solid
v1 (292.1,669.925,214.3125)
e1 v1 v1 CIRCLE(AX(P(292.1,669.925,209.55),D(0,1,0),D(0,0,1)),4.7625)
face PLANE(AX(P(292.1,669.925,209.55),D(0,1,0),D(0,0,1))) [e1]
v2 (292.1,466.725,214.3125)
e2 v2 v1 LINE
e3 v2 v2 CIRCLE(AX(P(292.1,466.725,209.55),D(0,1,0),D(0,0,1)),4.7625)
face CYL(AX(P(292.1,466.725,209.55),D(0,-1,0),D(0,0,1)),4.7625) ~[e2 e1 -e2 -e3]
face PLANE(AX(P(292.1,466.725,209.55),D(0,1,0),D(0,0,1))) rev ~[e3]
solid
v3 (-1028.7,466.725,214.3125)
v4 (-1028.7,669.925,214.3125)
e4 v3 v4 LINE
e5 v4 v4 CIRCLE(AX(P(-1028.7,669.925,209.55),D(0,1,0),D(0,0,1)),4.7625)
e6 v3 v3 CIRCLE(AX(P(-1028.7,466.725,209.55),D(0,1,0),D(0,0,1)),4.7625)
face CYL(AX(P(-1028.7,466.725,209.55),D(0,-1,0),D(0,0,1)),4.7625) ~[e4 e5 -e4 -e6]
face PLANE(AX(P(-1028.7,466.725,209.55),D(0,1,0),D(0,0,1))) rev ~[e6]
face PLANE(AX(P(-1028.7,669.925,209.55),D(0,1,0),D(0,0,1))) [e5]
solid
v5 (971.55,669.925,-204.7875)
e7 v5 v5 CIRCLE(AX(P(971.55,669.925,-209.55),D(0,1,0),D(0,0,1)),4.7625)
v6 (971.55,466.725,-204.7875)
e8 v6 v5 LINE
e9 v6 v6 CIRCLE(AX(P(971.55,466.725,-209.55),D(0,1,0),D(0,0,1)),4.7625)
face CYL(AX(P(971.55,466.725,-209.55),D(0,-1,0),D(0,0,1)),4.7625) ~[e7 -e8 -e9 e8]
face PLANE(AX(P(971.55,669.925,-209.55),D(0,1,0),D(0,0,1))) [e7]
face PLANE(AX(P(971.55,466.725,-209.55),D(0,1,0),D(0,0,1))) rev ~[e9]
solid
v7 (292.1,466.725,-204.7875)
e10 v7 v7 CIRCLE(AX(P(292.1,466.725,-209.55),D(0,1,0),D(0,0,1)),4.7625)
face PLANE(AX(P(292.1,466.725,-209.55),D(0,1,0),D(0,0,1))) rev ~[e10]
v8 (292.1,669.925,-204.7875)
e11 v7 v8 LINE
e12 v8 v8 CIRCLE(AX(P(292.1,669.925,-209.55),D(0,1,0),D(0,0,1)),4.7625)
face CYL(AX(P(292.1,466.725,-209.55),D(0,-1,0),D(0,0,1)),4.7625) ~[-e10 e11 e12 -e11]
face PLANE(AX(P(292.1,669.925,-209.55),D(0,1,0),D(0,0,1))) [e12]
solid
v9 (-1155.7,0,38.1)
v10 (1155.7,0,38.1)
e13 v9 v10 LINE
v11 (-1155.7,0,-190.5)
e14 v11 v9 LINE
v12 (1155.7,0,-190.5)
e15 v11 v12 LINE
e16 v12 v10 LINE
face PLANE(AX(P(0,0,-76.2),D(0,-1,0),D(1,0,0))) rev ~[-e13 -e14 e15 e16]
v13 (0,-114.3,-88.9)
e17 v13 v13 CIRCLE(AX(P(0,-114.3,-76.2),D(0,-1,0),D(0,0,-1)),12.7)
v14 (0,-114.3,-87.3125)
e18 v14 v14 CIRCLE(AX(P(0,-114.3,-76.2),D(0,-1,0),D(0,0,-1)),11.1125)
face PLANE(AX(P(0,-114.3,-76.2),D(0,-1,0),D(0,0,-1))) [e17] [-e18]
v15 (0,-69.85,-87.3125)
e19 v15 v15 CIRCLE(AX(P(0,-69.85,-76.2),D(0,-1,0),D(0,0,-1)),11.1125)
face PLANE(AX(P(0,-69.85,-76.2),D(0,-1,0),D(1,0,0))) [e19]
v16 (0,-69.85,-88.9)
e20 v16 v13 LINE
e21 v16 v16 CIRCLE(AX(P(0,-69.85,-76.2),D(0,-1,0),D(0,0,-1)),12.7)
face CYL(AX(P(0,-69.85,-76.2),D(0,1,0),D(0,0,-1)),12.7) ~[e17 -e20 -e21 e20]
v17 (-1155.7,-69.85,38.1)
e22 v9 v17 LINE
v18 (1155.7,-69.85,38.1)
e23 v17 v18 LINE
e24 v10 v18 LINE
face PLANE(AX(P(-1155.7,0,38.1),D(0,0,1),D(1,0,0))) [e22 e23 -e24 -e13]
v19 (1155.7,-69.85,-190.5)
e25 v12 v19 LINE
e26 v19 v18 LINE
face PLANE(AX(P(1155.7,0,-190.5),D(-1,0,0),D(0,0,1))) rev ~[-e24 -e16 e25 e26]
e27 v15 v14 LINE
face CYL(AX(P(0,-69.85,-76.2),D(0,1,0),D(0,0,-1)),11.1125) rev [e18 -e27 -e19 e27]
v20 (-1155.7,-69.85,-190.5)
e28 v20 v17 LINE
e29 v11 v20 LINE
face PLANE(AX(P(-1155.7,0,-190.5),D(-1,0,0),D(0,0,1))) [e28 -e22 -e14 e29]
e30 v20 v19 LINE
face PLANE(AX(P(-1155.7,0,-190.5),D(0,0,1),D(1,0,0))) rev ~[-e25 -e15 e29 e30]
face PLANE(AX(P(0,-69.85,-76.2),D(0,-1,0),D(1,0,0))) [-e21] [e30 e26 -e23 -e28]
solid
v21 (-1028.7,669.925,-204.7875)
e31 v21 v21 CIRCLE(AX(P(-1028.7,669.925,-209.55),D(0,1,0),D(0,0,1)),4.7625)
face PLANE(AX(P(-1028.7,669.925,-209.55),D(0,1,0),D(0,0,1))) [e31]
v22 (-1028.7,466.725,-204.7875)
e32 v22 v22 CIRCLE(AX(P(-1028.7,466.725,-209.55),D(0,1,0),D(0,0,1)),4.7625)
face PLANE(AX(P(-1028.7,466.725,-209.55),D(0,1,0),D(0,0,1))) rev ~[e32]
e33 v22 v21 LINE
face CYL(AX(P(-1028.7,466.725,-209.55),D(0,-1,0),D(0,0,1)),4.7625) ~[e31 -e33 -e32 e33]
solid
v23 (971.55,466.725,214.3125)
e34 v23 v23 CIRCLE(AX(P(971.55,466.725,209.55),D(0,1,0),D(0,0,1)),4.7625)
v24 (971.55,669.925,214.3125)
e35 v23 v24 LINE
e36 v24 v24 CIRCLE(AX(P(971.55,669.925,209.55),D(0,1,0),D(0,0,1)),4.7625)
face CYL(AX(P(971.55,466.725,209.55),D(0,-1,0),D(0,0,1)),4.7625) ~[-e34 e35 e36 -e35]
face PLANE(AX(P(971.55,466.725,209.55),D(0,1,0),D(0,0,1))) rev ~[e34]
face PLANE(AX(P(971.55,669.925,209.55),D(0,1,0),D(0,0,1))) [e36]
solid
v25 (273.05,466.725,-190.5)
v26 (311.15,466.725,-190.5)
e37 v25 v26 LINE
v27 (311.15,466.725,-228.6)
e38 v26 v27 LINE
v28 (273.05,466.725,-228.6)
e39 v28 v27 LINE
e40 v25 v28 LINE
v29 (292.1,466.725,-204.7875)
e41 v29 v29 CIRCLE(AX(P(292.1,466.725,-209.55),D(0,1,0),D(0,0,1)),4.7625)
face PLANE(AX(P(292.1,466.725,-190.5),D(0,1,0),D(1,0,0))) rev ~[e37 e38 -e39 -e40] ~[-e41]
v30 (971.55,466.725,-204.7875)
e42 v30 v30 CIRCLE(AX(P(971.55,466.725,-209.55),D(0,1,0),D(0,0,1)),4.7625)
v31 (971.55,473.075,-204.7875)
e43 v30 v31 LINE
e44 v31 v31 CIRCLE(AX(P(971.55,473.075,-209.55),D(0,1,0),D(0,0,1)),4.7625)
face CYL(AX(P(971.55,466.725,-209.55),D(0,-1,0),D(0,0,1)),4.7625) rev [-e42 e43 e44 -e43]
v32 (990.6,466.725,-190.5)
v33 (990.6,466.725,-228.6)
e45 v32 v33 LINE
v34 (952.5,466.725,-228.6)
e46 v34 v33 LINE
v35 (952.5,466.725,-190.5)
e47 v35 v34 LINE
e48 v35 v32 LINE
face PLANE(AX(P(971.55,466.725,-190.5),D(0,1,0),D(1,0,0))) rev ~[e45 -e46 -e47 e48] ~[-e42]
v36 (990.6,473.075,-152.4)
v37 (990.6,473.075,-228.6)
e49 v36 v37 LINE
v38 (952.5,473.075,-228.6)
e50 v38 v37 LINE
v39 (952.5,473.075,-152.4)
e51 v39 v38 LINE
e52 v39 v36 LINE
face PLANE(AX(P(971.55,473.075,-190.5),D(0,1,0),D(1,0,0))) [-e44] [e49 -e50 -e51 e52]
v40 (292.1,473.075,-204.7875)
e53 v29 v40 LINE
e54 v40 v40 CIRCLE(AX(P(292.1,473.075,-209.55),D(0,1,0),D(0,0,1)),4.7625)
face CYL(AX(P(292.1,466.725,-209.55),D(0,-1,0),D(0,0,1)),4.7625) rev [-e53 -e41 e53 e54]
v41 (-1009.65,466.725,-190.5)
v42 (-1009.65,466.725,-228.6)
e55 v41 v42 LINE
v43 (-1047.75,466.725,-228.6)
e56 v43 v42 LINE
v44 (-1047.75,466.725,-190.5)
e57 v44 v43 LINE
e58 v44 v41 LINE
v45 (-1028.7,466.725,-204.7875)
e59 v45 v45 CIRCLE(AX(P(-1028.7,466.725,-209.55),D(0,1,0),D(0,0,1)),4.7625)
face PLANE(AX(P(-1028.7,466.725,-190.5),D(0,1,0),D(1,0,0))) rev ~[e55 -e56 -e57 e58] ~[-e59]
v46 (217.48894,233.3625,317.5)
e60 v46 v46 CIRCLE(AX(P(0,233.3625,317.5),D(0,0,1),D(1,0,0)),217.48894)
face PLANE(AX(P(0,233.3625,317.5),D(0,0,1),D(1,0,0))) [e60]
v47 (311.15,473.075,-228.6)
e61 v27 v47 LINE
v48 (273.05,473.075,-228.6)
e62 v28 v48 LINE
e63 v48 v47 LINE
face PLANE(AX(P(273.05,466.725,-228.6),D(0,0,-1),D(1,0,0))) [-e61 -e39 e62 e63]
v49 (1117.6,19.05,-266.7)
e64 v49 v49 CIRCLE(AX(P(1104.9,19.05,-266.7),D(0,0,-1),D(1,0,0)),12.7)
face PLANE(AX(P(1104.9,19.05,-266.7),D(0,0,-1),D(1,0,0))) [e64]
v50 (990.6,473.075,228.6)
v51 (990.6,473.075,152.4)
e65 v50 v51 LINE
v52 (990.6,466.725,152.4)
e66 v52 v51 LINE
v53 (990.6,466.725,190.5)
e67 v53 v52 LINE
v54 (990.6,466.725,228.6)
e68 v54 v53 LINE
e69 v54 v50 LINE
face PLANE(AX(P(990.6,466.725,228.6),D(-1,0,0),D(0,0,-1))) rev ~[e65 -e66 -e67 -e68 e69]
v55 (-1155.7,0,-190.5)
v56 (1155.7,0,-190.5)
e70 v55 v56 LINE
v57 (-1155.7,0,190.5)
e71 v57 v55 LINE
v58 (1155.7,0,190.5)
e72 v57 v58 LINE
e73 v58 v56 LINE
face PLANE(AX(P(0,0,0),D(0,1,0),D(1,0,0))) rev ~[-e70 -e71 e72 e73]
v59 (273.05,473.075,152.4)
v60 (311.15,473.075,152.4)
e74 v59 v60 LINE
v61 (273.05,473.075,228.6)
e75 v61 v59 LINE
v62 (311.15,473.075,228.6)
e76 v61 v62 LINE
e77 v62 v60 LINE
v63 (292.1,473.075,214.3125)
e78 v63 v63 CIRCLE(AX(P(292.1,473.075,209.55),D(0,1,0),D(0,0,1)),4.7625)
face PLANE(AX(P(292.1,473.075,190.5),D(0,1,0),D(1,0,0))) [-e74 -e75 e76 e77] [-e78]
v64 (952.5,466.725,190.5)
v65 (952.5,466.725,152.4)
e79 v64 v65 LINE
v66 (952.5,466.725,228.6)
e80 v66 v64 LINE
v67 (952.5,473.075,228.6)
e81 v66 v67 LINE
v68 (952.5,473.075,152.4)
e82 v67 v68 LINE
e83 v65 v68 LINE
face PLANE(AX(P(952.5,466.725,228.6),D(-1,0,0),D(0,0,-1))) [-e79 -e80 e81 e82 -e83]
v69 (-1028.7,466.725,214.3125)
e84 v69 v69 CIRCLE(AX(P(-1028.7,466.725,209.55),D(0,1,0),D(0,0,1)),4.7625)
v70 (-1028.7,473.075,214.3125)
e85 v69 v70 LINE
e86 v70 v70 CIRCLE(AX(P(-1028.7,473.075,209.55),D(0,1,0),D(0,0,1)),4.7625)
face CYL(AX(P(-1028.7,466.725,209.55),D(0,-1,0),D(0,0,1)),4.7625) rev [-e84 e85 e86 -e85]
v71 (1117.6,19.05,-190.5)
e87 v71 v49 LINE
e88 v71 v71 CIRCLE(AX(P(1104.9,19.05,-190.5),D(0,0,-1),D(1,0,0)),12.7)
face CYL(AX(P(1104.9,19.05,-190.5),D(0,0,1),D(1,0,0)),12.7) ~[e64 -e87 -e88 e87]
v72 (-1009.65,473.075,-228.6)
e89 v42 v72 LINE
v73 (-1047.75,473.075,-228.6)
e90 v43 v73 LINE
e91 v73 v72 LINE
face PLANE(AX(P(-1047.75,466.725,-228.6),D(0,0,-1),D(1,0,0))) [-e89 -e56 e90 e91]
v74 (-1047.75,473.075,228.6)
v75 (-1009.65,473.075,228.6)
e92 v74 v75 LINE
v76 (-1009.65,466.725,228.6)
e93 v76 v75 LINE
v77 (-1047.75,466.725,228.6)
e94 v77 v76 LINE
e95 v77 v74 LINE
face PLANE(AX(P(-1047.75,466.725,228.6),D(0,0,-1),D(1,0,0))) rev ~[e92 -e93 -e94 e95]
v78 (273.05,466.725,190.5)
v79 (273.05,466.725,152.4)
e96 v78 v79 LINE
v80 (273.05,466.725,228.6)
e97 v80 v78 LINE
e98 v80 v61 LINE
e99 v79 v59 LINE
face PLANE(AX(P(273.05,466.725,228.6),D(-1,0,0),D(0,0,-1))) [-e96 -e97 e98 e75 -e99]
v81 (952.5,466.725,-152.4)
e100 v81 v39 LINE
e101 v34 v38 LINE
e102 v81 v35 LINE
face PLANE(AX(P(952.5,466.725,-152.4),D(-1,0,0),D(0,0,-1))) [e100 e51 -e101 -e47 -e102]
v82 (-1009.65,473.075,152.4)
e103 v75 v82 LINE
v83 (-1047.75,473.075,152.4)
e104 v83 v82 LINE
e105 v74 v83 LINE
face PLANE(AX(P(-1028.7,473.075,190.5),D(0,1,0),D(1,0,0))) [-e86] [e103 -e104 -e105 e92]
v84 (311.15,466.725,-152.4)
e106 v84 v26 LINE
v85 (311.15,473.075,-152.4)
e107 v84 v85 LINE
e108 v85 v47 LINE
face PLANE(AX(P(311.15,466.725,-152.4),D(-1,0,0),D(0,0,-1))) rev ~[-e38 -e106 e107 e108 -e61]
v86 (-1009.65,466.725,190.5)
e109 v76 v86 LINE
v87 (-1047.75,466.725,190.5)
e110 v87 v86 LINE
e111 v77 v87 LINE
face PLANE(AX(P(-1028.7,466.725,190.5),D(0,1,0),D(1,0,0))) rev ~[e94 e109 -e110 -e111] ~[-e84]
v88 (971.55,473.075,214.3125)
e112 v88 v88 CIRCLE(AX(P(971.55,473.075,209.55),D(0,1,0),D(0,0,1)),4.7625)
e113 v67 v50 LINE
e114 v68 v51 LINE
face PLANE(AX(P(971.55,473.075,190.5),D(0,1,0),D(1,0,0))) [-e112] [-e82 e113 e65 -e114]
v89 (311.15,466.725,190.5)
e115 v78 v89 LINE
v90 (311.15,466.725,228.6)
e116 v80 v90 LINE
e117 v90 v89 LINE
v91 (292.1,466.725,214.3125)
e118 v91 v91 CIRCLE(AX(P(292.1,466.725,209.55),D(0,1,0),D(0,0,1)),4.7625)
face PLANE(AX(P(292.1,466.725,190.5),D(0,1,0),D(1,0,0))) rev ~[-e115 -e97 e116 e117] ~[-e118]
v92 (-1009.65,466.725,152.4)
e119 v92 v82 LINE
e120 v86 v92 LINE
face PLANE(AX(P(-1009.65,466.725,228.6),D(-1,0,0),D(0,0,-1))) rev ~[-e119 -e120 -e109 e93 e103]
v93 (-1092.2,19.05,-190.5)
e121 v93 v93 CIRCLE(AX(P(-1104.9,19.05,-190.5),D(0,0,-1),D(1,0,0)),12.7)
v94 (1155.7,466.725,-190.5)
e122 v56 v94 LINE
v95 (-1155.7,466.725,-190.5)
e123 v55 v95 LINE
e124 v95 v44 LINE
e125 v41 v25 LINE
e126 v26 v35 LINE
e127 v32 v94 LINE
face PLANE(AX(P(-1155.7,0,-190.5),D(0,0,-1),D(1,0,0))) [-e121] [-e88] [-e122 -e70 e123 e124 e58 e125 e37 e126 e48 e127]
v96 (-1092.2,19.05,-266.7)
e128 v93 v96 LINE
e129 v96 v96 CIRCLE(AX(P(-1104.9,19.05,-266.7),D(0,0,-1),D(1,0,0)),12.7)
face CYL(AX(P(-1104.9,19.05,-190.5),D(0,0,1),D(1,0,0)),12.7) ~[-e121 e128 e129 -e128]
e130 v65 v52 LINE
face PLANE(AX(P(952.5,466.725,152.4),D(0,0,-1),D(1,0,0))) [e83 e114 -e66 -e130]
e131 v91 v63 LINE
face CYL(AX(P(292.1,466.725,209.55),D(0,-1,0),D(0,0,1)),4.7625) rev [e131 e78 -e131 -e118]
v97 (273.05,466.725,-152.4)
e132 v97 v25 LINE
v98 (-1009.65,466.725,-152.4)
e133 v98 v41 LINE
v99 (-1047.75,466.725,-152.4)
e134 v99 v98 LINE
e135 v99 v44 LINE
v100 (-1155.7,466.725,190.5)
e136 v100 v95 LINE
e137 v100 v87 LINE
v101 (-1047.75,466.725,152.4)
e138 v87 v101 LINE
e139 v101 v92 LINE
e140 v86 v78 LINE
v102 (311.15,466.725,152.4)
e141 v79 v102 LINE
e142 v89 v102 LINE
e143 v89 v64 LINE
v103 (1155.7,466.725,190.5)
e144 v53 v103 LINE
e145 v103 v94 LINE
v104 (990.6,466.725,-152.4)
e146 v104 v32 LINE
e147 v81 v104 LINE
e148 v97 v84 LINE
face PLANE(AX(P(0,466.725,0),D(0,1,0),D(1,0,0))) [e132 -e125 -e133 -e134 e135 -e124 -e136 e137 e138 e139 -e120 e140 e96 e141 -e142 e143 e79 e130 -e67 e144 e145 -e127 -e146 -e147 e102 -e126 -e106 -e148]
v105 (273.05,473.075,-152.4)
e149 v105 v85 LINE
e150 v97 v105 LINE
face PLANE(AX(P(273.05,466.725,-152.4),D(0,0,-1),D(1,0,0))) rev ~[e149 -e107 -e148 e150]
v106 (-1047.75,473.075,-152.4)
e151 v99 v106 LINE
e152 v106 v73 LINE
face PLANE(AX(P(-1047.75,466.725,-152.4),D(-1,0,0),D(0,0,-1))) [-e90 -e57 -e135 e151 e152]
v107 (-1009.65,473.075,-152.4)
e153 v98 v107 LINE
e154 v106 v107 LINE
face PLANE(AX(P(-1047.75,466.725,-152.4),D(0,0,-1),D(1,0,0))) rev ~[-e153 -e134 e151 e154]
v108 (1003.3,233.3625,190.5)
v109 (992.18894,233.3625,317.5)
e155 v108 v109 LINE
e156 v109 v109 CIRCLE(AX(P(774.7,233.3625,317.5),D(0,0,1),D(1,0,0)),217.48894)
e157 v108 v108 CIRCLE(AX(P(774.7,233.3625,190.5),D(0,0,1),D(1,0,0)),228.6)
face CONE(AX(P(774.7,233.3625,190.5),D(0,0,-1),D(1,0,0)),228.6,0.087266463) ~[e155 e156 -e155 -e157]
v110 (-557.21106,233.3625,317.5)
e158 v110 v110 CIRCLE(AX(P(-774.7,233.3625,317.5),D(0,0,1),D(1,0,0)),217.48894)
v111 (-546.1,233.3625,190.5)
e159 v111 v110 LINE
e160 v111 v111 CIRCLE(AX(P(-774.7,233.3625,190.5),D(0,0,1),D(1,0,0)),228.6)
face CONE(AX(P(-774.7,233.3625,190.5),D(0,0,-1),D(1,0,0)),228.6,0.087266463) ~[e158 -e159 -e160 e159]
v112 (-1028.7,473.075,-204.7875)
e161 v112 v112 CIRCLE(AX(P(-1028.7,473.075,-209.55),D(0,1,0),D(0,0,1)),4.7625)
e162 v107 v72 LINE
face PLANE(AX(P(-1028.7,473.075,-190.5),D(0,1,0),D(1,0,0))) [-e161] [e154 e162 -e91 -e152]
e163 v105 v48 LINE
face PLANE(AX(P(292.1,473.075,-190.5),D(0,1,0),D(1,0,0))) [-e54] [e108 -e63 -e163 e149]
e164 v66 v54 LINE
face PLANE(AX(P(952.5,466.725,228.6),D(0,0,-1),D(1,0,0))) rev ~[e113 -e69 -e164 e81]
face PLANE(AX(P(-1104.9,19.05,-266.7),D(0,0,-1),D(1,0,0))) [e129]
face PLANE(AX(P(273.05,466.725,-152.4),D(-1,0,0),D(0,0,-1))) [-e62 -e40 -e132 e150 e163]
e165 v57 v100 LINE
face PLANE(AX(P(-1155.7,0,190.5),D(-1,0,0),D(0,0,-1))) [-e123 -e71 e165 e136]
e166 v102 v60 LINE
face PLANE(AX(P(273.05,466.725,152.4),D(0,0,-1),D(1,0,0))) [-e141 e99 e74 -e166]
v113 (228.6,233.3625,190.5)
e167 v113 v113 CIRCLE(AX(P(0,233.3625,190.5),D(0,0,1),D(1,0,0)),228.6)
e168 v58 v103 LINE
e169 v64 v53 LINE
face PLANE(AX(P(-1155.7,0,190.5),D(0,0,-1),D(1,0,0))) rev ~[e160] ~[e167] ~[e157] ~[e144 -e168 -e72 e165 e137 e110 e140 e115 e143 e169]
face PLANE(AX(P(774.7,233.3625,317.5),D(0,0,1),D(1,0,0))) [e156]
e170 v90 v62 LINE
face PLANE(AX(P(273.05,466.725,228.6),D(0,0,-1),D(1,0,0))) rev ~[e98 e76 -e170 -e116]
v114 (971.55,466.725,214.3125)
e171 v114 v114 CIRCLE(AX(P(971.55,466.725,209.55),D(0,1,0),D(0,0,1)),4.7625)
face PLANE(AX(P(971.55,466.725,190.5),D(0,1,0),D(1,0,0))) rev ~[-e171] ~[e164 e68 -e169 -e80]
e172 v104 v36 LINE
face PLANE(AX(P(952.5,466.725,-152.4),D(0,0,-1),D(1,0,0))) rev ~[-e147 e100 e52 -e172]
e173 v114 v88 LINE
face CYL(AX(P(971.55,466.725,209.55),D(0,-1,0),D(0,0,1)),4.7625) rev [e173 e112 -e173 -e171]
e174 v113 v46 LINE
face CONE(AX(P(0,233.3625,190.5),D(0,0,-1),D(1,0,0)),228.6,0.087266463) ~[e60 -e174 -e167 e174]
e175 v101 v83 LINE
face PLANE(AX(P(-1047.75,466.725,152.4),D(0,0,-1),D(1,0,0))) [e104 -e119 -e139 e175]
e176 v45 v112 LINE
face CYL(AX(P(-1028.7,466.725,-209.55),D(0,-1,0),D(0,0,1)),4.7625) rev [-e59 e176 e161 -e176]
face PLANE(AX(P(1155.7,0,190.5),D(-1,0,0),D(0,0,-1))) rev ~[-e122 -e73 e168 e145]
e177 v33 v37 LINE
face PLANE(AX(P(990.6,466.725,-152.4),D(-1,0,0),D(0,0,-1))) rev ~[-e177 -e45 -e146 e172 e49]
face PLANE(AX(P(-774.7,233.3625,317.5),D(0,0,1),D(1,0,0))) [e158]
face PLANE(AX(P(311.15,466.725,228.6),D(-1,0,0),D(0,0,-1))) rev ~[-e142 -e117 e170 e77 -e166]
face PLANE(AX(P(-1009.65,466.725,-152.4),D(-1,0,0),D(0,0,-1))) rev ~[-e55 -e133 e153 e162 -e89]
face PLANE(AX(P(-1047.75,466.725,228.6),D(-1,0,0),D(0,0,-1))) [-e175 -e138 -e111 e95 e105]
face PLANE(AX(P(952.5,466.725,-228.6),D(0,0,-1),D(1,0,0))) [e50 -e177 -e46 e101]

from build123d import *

# Parameters (mm, degrees)
SKETCH1_W                     = 2311.4
SKETCH1_H                     = 381
BOSS_EXTRUDE1_DEPTH           = 466.725
SKETCH2_R                     = 228.6
BOSS_EXTRUDE2_DEPTH           = 127
BOSS_EXTRUDE2_DRAFT           = 5
BOSS_EXTRUDE2_PROFILE_2_DEPTH = 127
BOSS_EXTRUDE2_PROFILE_2_DRAFT = 5
BOSS_EXTRUDE2_PROFILE_3_DEPTH = 127
BOSS_EXTRUDE2_PROFILE_3_DRAFT = 5
SKETCH3_W                     = 38.1
SKETCH3_H                     = 76.2
SKETCH3_R                     = 4.7625
BOSS_EXTRUDE3_DEPTH           = 6.35
SKETCH4_R                     = 4.7625
BOSS_EXTRUDE4_DEPTH           = 203.2
BOSS_EXTRUDE4_2_DEPTH         = 203.2
BOSS_EXTRUDE4_3_DEPTH         = 203.2
BOSS_EXTRUDE4_4_DEPTH         = 203.2
BOSS_EXTRUDE4_5_DEPTH         = 203.2
BOSS_EXTRUDE4_6_DEPTH         = 203.2
SKETCH5_W                     = 2311.4
SKETCH5_H                     = 228.6
BOSS_EXTRUDE5_DEPTH           = 69.85
SKETCH6_R                     = 12.7
SKETCH6_R_2                   = 11.1125
BOSS_EXTRUDE6_DEPTH           = 44.45
SKETCH7_R                     = 12.7
BOSS_EXTRUDE7_DEPTH           = 76.2


with BuildPart() as part:
    # Sketch1 → Boss-Extrude1 (new body)
    with BuildSketch(Plane(origin=(0, 0, 0), x_dir=(1, 0, 0), z_dir=(0, 1, 0))):
        Rectangle(SKETCH1_W, SKETCH1_H)
    extrude(amount=BOSS_EXTRUDE1_DEPTH)


with BuildPart() as boss_extrude2_tool:
    # Sketch2 → Boss-Extrude2 (with draft: the straight prism first)
    with BuildSketch(Plane.XY.offset(190.5)):
        with Locations((0, 233.3625)):
            Circle(SKETCH2_R)
    extrude(amount=BOSS_EXTRUDE2_DEPTH)
    # Boss-Extrude2: the draft: its side faces are tilted about the plane it starts from
    boss_extrude2_sides = [boss_extrude2_tool.faces().sort_by_distance(p)[0] for p in [
        (-228.6, 233.3625, 254),
    ]]
    draft(boss_extrude2_sides, Plane.XY.offset(190.5), BOSS_EXTRUDE2_DRAFT)


with BuildPart() as part_1:
    add(part.part)

    # Boss-Extrude2: add boss_extrude2_tool
    add(boss_extrude2_tool.part)


with BuildPart() as boss_extrude2_profile_2_tool:
    # Sketch2 → Boss-Extrude2 profile 2 (with draft: the straight prism first)
    with BuildSketch(Plane.XY.offset(190.5)):
        with Locations((774.7, 233.3625)):
            Circle(SKETCH2_R)
    extrude(amount=BOSS_EXTRUDE2_PROFILE_2_DEPTH)
    # Boss-Extrude2 profile 2: the draft: its side faces are tilted about the plane it starts from
    boss_extrude2_profile_2_sides = [boss_extrude2_profile_2_tool.faces().sort_by_distance(p)[0] for p in [
        (546.1, 233.3625, 254),
    ]]
    draft(boss_extrude2_profile_2_sides, Plane.XY.offset(190.5), BOSS_EXTRUDE2_PROFILE_2_DRAFT)


with BuildPart() as part_2:
    add(part_1.part)

    # Boss-Extrude2 profile 2: add boss_extrude2_profile_2_tool
    add(boss_extrude2_profile_2_tool.part)


with BuildPart() as boss_extrude2_profile_3_tool:
    # Sketch2 → Boss-Extrude2 profile 3 (with draft: the straight prism first)
    with BuildSketch(Plane.XY.offset(190.5)):
        with Locations((-774.7, 233.3625)):
            Circle(SKETCH2_R)
    extrude(amount=BOSS_EXTRUDE2_PROFILE_3_DEPTH)
    # Boss-Extrude2 profile 3: the draft: its side faces are tilted about the plane it starts from
    boss_extrude2_profile_3_sides = [boss_extrude2_profile_3_tool.faces().sort_by_distance(p)[0] for p in [
        (-1003.3, 233.3625, 254),
    ]]
    draft(boss_extrude2_profile_3_sides, Plane.XY.offset(190.5), BOSS_EXTRUDE2_PROFILE_3_DRAFT)


with BuildPart() as part_3:
    add(part_2.part)

    # Boss-Extrude2 profile 3: add boss_extrude2_profile_3_tool
    add(boss_extrude2_profile_3_tool.part)

    # Sketch3 → Boss-Extrude3 (add)
    # profile 1 of 6: a face of its own
    with BuildSketch(Plane(origin=(0, 466.725, 0), x_dir=(1, 0, 0), z_dir=(0, 1, 0))):
        with Locations((292.1, 190.5)):
            Rectangle(SKETCH3_W, SKETCH3_H)
        with Locations(Location((292.1, 209.55, 0), (0, 0, 270))):
            Circle(SKETCH3_R, mode=Mode.SUBTRACT)
    # profile 2 of 6: a face of its own
    with BuildSketch(Plane(origin=(0, 466.725, 0), x_dir=(1, 0, 0), z_dir=(0, 1, 0))):
        with Locations((292.1, -190.5)):
            Rectangle(SKETCH3_W, SKETCH3_H)
        with Locations(Location((292.1, -209.55, 0), (0, 0, 270))):
            Circle(SKETCH3_R, mode=Mode.SUBTRACT)
    # profile 3 of 6: a face of its own
    with BuildSketch(Plane(origin=(0, 466.725, 0), x_dir=(1, 0, 0), z_dir=(0, 1, 0))):
        with Locations((971.55, 190.5)):
            Rectangle(SKETCH3_W, SKETCH3_H)
        with Locations(Location((971.55, 209.55, 0), (0, 0, 270))):
            Circle(SKETCH3_R, mode=Mode.SUBTRACT)
    # profile 4 of 6: a face of its own
    with BuildSketch(Plane(origin=(0, 466.725, 0), x_dir=(1, 0, 0), z_dir=(0, 1, 0))):
        with Locations((971.55, -190.5)):
            Rectangle(SKETCH3_W, SKETCH3_H)
        with Locations(Location((971.55, -209.55, 0), (0, 0, 270))):
            Circle(SKETCH3_R, mode=Mode.SUBTRACT)
    # profile 5 of 6: a face of its own
    with BuildSketch(Plane(origin=(0, 466.725, 0), x_dir=(1, 0, 0), z_dir=(0, 1, 0))):
        with Locations((-1028.7, 190.5)):
            Rectangle(SKETCH3_W, SKETCH3_H)
        with Locations(Location((-1028.7, 209.55, 0), (0, 0, 270))):
            Circle(SKETCH3_R, mode=Mode.SUBTRACT)
    # profile 6 of 6: a face of its own
    with BuildSketch(Plane(origin=(0, 466.725, 0), x_dir=(1, 0, 0), z_dir=(0, 1, 0))):
        with Locations((-1028.7, -190.5)):
            Rectangle(SKETCH3_W, SKETCH3_H)
        with Locations(Location((-1028.7, -209.55, 0), (0, 0, 270))):
            Circle(SKETCH3_R, mode=Mode.SUBTRACT)
    extrude(amount=BOSS_EXTRUDE3_DEPTH)

    # Sketch7 → Boss-Extrude7 (add)
    with BuildSketch(Plane(origin=(0, 0, -190.5), x_dir=(-1, 0, 0), z_dir=(0, 0, -1))):
        with Locations(Location((-1104.9, 19.05, 0), (0, 0, 180))):
            Circle(SKETCH7_R)
        with Locations(Location((1104.9, 19.05, 0), (0, 0, 180))):
            Circle(SKETCH7_R)
    extrude(amount=BOSS_EXTRUDE7_DEPTH)


with BuildPart() as body_2:
    # Sketch4 → Boss-Extrude4 (new body)
    with BuildSketch(Plane(origin=(0, 466.725, 0), x_dir=(1, 0, 0), z_dir=(0, 1, 0))):
        with Locations(Location((-1028.7, 209.55, 0), (0, 0, 270))):
            Circle(SKETCH4_R)
    extrude(amount=BOSS_EXTRUDE4_DEPTH)


with BuildPart() as body_3:
    # Sketch4 → Boss-Extrude4 2 (new body)
    with BuildSketch(Plane(origin=(0, 466.725, 0), x_dir=(1, 0, 0), z_dir=(0, 1, 0))):
        with Locations(Location((-1028.7, -209.55, 0), (0, 0, 270))):
            Circle(SKETCH4_R)
    extrude(amount=BOSS_EXTRUDE4_2_DEPTH)


with BuildPart() as body_4:
    # Sketch4 → Boss-Extrude4 3 (new body)
    with BuildSketch(Plane(origin=(0, 466.725, 0), x_dir=(1, 0, 0), z_dir=(0, 1, 0))):
        with Locations(Location((292.1, -209.55, 0), (0, 0, 270))):
            Circle(SKETCH4_R)
    extrude(amount=BOSS_EXTRUDE4_3_DEPTH)


with BuildPart() as body_5:
    # Sketch4 → Boss-Extrude4 4 (new body)
    with BuildSketch(Plane(origin=(0, 466.725, 0), x_dir=(1, 0, 0), z_dir=(0, 1, 0))):
        with Locations(Location((292.1, 209.55, 0), (0, 0, 270))):
            Circle(SKETCH4_R)
    extrude(amount=BOSS_EXTRUDE4_4_DEPTH)


with BuildPart() as body_6:
    # Sketch4 → Boss-Extrude4 5 (new body)
    with BuildSketch(Plane(origin=(0, 466.725, 0), x_dir=(1, 0, 0), z_dir=(0, 1, 0))):
        with Locations(Location((971.55, 209.55, 0), (0, 0, 270))):
            Circle(SKETCH4_R)
    extrude(amount=BOSS_EXTRUDE4_5_DEPTH)


with BuildPart() as body_7:
    # Sketch4 → Boss-Extrude4 6 (new body)
    with BuildSketch(Plane(origin=(0, 466.725, 0), x_dir=(1, 0, 0), z_dir=(0, 1, 0))):
        with Locations(Location((971.55, -209.55, 0), (0, 0, 270))):
            Circle(SKETCH4_R)
    extrude(amount=BOSS_EXTRUDE4_6_DEPTH)


with BuildPart() as body_8:
    # Sketch5 → Boss-Extrude5 (new body)
    with BuildSketch(Plane.XZ):
        with Locations((0, -76.2)):
            Rectangle(SKETCH5_W, SKETCH5_H)
    extrude(amount=BOSS_EXTRUDE5_DEPTH)

    # Sketch6 → Boss-Extrude6 (add)
    with BuildSketch(Plane.XZ.offset(69.85)):
        with Locations(Location((0, -76.2, 0), (0, 0, 270))):
            Circle(SKETCH6_R)
        with Locations(Location((0, -76.2, 0), (0, 0, 270))):
            Circle(SKETCH6_R_2, mode=Mode.SUBTRACT)
    extrude(amount=BOSS_EXTRUDE6_DEPTH)


solid = Compound([part_3.part, body_2.part, body_3.part, body_4.part, body_5.part, body_6.part, body_7.part, body_8.part])
